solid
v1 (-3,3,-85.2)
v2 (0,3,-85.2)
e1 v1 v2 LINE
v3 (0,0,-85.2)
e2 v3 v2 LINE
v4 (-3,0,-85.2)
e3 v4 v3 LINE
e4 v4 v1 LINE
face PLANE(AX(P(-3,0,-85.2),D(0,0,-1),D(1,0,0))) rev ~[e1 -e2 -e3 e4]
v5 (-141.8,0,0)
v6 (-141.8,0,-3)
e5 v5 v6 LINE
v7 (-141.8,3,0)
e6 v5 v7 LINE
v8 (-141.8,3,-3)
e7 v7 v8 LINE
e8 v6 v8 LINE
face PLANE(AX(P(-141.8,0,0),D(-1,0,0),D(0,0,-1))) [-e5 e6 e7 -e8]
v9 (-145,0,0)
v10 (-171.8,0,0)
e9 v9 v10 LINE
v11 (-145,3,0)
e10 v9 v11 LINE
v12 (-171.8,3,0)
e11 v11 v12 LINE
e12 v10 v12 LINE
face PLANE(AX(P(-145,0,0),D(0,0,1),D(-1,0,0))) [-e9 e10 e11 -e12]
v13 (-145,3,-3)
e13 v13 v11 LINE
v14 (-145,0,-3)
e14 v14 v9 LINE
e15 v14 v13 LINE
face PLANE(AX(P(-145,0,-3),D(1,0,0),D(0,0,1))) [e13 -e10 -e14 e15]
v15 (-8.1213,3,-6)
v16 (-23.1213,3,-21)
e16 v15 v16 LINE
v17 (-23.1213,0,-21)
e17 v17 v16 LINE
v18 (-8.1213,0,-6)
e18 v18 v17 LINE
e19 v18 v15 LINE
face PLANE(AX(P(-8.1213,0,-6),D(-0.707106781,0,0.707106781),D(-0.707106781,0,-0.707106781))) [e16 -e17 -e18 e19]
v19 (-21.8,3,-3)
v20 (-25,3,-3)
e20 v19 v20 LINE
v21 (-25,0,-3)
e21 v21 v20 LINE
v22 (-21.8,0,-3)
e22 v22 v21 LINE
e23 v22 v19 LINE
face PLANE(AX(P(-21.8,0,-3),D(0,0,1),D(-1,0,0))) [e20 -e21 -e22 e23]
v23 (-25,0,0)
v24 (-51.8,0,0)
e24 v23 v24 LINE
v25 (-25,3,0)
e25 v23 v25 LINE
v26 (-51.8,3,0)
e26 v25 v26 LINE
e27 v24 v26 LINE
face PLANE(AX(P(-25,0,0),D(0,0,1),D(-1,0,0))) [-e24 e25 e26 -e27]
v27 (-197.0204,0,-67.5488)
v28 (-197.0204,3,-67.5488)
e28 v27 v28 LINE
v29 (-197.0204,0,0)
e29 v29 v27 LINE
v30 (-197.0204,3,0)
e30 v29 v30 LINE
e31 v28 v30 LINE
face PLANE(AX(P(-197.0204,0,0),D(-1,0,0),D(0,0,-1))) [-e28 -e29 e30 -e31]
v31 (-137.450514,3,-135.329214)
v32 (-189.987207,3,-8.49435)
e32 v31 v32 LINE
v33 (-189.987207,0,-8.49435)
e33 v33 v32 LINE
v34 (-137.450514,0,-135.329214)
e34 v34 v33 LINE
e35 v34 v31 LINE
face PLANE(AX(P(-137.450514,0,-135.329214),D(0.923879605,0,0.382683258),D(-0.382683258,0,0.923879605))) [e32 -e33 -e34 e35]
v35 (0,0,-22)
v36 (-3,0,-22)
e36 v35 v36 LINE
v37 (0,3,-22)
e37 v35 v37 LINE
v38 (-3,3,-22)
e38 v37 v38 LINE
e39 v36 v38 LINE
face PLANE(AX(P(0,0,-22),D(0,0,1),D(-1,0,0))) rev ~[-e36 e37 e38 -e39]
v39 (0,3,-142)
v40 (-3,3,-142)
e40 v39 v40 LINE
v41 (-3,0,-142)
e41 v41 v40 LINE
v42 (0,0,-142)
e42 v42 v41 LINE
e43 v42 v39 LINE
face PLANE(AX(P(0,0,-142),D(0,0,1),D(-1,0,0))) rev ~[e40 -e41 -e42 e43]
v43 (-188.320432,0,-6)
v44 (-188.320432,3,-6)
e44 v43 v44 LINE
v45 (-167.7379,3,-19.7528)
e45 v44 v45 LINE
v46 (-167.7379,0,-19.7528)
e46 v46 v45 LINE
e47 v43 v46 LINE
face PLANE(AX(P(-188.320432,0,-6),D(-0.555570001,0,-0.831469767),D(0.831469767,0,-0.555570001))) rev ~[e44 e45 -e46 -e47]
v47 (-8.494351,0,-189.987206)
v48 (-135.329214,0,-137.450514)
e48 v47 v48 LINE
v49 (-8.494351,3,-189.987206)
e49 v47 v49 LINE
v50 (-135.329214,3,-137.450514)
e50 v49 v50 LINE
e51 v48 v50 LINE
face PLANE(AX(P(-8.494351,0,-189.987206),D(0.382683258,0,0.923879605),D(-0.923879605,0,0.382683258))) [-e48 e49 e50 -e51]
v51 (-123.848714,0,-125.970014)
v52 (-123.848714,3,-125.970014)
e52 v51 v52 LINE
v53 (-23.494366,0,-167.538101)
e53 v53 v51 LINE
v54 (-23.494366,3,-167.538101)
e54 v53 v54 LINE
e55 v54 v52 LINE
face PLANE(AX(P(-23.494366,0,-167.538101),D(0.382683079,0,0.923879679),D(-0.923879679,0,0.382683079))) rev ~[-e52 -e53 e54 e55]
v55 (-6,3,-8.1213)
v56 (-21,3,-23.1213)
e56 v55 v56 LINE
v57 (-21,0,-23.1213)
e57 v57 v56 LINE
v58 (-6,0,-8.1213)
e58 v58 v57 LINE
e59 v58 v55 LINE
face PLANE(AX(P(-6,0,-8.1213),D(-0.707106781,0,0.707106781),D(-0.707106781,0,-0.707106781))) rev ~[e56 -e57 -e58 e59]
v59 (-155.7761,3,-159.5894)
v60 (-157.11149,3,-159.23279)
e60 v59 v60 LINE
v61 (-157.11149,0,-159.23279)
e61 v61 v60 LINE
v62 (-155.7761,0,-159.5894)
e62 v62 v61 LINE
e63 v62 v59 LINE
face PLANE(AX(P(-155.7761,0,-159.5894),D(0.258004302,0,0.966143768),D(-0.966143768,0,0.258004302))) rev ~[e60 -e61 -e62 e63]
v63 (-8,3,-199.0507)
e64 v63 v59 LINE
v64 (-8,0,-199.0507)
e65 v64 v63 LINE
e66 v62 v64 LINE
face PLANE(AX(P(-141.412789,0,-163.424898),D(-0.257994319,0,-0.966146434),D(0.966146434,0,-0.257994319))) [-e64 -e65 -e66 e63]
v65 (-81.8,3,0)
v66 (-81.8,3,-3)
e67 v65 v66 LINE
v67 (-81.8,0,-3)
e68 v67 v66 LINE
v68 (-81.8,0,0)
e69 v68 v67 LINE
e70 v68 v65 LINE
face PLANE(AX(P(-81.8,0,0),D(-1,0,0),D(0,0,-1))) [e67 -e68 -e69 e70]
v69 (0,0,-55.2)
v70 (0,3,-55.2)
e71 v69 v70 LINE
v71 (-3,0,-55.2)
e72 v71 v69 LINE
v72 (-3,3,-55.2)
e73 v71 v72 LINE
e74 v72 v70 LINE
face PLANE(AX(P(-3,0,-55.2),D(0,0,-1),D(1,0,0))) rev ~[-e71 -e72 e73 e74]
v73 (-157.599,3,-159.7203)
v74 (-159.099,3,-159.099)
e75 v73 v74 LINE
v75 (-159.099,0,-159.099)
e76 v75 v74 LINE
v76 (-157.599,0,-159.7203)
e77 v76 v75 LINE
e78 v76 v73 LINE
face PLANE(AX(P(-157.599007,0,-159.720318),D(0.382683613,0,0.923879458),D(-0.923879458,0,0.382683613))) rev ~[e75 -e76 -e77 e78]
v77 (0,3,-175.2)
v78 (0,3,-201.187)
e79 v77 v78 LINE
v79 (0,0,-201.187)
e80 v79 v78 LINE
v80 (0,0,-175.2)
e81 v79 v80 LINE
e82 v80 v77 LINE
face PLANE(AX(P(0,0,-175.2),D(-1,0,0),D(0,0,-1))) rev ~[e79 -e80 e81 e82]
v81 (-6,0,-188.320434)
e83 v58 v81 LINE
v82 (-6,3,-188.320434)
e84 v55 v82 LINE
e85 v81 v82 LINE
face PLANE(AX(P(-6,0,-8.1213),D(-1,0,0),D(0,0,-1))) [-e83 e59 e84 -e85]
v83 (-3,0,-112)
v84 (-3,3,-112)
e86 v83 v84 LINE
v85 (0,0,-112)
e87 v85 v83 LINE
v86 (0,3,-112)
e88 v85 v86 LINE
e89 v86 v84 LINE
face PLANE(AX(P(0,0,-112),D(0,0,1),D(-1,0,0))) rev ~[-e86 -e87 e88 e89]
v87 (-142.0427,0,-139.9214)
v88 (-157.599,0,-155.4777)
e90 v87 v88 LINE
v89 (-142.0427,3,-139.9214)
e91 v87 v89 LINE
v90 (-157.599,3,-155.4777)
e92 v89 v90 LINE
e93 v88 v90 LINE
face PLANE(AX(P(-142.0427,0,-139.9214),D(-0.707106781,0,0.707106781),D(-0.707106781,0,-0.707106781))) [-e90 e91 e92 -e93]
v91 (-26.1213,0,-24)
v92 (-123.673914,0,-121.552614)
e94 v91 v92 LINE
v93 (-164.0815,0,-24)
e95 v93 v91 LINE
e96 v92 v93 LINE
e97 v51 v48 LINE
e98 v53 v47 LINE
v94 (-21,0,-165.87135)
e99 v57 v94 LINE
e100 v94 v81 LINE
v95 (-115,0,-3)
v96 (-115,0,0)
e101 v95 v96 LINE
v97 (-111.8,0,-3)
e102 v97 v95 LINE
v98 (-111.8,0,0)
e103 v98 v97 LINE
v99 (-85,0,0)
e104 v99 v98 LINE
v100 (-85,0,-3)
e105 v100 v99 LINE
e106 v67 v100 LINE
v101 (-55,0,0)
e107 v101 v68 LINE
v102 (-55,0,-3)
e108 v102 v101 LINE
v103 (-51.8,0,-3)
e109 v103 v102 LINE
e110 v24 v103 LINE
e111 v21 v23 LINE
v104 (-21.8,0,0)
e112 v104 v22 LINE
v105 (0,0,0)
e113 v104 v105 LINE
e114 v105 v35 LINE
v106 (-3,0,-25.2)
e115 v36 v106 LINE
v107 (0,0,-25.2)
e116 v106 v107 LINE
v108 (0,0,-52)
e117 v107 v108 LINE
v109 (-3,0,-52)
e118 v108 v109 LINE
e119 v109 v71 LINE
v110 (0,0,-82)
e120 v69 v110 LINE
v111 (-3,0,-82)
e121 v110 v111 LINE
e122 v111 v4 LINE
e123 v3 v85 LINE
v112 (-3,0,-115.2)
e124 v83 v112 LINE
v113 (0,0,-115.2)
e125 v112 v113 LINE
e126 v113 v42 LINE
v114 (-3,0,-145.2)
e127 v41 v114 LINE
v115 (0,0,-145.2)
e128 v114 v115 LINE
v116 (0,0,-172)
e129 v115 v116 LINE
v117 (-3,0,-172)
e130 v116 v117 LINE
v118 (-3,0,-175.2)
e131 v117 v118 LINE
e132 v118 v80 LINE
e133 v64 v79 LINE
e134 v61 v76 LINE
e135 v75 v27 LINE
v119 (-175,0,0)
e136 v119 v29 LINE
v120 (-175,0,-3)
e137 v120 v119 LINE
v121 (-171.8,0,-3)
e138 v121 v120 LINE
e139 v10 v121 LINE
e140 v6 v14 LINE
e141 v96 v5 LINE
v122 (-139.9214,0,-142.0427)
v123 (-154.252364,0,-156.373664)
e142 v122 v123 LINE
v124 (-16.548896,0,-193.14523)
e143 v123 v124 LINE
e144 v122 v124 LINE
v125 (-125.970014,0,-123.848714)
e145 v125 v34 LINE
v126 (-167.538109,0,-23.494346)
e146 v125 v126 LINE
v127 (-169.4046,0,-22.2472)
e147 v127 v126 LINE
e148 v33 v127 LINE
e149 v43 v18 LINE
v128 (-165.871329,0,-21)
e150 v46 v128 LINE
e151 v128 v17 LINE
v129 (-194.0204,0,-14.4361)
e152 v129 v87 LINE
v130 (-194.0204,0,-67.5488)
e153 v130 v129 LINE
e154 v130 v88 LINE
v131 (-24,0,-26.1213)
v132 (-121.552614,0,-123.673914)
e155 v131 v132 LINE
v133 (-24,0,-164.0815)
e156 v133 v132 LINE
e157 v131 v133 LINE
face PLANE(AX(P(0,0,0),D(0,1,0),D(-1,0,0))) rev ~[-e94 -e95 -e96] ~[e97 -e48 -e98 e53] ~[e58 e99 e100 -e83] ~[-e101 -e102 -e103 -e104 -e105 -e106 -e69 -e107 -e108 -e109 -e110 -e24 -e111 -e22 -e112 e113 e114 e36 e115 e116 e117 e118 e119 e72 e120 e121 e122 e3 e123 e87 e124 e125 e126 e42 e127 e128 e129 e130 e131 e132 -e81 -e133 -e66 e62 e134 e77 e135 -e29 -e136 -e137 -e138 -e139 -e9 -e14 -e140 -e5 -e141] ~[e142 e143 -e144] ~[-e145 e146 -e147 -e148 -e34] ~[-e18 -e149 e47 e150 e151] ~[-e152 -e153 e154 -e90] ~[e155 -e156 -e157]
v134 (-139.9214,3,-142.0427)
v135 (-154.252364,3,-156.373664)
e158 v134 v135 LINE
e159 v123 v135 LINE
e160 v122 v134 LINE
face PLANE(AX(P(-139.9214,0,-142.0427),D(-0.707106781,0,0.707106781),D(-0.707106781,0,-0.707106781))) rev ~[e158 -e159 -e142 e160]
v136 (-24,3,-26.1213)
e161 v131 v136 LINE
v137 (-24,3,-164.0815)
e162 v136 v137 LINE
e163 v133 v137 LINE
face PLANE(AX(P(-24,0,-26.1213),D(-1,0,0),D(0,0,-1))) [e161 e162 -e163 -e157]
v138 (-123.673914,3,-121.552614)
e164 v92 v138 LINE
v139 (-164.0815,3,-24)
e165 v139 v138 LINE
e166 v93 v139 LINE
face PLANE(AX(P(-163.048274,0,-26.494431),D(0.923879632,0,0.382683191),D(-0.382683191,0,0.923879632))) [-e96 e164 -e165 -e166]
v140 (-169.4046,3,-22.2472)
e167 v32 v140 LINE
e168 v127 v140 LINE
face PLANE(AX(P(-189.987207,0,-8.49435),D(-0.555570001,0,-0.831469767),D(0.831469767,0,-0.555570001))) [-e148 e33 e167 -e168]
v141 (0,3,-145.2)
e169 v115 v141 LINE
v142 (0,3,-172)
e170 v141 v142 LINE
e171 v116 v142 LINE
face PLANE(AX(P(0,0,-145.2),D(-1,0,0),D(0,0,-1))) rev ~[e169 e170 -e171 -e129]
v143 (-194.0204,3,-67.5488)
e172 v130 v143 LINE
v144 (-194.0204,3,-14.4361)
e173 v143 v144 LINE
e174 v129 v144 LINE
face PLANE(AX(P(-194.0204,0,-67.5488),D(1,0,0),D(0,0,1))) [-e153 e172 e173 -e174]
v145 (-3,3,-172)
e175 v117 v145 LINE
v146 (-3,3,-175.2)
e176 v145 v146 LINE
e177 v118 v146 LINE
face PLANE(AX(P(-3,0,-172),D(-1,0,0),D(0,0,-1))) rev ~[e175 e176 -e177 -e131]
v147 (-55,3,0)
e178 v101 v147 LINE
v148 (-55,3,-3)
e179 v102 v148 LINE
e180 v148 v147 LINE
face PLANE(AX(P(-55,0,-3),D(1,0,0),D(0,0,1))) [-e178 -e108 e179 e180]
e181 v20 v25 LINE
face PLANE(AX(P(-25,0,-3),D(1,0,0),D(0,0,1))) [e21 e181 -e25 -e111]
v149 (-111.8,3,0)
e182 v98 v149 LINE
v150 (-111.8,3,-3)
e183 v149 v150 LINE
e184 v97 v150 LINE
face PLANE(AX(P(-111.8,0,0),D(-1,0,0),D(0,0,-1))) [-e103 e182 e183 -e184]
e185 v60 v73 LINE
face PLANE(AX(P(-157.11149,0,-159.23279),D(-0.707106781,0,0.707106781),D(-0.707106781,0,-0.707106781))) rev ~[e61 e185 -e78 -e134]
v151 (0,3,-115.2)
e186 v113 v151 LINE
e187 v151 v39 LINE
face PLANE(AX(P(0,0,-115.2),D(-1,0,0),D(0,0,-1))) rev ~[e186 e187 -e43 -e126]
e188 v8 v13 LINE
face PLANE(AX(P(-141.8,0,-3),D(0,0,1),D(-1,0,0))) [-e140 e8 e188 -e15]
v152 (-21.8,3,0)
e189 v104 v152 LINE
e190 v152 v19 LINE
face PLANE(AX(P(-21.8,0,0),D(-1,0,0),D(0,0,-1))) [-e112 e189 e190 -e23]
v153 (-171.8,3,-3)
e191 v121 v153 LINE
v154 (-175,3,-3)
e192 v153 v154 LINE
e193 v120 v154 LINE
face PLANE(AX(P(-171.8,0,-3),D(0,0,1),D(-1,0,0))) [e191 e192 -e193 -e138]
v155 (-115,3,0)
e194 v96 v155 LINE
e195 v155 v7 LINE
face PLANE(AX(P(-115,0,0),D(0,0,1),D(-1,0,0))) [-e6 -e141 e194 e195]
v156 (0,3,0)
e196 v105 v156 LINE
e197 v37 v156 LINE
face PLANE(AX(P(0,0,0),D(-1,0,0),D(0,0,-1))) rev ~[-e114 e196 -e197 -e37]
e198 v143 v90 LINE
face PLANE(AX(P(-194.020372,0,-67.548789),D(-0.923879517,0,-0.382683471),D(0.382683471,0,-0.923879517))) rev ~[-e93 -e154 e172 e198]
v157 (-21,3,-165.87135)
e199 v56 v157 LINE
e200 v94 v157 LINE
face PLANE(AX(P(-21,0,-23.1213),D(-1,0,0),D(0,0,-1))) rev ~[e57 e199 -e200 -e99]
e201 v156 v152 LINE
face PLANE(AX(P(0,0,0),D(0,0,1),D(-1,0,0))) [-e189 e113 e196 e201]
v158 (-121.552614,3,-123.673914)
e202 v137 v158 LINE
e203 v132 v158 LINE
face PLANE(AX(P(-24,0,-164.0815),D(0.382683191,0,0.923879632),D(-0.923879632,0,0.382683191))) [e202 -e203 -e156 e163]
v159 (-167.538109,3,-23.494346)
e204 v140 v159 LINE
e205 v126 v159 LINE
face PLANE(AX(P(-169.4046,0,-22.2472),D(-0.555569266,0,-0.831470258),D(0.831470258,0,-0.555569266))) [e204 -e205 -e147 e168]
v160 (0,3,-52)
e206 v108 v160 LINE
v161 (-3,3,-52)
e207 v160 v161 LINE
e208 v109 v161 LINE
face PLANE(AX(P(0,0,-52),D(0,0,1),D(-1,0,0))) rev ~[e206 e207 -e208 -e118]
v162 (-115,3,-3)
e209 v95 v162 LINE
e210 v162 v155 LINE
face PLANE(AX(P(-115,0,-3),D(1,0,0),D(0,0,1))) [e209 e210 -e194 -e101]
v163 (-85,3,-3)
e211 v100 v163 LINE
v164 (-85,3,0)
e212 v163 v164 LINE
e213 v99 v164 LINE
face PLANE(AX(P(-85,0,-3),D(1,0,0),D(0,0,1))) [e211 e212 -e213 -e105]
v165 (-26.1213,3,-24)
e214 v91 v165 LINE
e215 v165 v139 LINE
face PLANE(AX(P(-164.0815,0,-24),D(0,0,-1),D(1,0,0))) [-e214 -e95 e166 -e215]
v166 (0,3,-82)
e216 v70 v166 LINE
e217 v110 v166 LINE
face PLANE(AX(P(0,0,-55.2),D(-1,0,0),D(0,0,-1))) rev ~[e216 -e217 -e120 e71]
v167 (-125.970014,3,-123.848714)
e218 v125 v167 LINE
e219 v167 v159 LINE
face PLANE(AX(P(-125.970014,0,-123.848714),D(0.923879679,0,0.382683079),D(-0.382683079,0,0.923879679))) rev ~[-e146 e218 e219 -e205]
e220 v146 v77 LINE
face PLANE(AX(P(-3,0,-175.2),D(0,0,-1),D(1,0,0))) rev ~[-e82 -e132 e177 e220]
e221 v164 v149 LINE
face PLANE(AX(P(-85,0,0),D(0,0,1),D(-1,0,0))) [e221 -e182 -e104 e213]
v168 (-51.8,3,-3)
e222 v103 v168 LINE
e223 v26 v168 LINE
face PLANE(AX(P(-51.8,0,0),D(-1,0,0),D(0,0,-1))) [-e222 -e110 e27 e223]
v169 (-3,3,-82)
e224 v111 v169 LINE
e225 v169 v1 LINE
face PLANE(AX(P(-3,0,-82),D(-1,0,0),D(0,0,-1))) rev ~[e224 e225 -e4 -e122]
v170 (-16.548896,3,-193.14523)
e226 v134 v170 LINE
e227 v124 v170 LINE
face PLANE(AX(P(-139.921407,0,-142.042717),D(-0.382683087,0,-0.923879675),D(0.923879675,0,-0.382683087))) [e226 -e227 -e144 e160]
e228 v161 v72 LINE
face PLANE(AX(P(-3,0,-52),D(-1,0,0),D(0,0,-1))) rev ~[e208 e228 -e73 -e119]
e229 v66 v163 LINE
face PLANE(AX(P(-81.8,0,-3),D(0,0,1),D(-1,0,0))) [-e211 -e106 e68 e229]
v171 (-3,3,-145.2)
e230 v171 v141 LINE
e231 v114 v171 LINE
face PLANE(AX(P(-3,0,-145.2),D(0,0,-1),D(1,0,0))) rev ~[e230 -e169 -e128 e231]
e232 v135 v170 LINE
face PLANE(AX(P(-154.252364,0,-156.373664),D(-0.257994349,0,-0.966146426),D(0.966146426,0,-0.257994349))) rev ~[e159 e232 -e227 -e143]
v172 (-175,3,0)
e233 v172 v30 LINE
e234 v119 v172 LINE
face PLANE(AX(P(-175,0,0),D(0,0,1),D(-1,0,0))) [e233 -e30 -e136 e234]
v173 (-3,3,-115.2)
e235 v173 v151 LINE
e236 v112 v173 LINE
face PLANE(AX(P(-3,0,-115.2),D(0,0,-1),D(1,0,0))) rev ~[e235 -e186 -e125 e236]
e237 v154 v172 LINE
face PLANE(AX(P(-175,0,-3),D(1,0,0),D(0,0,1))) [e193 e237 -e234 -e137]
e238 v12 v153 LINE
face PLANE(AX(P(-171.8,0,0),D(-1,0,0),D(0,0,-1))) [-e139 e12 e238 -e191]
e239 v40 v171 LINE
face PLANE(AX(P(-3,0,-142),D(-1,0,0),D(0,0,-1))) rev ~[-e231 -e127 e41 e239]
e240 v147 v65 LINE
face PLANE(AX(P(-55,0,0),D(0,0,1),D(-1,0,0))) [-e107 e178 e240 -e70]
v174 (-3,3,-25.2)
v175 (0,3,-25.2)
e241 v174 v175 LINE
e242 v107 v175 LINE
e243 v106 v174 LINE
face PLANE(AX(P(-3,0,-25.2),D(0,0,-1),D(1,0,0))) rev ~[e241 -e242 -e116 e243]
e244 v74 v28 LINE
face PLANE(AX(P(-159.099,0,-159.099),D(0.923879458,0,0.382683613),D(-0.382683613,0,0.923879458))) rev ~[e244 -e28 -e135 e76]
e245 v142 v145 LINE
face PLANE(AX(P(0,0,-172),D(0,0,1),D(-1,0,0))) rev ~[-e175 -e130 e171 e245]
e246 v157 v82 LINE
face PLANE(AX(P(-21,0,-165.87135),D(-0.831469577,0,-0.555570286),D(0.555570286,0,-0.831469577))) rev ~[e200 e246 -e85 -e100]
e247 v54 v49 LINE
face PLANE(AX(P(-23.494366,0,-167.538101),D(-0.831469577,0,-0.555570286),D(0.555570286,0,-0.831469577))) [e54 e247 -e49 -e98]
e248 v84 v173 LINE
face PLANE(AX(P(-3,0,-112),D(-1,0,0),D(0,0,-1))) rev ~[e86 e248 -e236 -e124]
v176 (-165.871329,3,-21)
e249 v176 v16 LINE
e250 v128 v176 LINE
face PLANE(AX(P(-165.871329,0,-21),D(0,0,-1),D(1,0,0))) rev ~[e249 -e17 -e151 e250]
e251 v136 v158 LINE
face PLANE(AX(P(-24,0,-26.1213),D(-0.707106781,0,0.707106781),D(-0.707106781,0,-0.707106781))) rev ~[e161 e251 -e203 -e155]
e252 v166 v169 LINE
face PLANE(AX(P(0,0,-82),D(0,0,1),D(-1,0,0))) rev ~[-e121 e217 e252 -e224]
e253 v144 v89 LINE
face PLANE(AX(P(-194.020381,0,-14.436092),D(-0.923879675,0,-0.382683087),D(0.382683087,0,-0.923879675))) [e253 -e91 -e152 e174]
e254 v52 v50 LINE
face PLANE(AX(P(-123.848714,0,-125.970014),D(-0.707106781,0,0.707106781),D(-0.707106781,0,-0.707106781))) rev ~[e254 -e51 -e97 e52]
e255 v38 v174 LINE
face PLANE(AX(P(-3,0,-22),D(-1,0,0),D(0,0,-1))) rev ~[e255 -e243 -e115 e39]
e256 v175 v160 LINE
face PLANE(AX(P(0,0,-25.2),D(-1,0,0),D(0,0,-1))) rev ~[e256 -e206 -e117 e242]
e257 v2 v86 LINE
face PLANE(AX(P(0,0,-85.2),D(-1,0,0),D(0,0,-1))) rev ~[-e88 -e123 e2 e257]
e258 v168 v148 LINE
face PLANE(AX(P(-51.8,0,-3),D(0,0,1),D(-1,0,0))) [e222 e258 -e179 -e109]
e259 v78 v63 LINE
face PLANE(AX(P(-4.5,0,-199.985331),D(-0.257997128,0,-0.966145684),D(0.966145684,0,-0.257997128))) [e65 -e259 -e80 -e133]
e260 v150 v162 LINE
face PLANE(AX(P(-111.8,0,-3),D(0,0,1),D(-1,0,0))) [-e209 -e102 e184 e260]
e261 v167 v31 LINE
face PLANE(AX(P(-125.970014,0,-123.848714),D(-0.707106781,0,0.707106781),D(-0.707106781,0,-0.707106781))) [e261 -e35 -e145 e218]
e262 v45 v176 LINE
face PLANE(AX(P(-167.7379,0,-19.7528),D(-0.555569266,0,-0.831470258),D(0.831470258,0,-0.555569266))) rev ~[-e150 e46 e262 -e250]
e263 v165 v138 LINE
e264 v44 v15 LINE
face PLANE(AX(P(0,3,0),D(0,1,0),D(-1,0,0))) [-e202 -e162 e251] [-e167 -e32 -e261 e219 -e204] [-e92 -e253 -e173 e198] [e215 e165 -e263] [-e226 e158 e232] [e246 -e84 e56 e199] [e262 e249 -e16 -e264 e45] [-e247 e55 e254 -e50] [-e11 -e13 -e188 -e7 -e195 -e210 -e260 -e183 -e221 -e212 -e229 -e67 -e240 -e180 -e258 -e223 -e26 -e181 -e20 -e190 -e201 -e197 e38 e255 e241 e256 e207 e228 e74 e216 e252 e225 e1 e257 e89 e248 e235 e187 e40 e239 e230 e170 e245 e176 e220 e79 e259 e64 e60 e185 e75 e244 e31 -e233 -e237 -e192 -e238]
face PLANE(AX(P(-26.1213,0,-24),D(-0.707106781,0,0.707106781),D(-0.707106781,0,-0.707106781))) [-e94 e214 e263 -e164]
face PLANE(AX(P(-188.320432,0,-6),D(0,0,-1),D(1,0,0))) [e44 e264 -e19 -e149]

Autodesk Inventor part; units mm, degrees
ref_plane "YZ Plane" through (0, 0, 0) normal (1, 0, 0) x (0, 1, 0)
ref_plane "XZ Plane" through (0, 0, 0) normal (0, 1, 0) x (-1, 0, 0)
ref_plane "XY Plane" through (0, 0, 0) normal (0, 0, 1) x (1, 0, 0)
sketch "草圖1" plane through (0, 0, 0) normal (0, 1, 0) x (-1, 0, 0)
  line L0 (0, 0) -> (0, -200)
  line L1 (0, 0) -> (200, 0)
  line L2 (0, 0) -> (141.4214, -141.4214)
  line L3 (200, 0) -> (141.4214, -141.4214)
  line L4 (141.4214, -141.4214) -> (0, -200)
  line L5 (191.0204, -6) -> (6, -6)
  line L6 (6, -6) -> (6, -191.0204)
  line L7 (6, -191.0204) -> (136.8292, -136.8292)
  line L8 (136.8292, -136.8292) -> (191.0204, -6)
  line L9 (2.1213, 0) -> (142.0427, -139.9214)
  line L10 (0, -2.1213) -> (139.9214, -142.0427)
  line L11 (168.5713, -21) -> (21, -21)
  line L12 (21, -21) -> (21, -168.5713)
  line L13 (21, -168.5713) -> (125.3487, -125.3487)
  line L14 (125.3487, -125.3487) -> (168.5713, -21)
  line L15 (164.0815, -24) -> (24, -24)
  line L16 (24, -24) -> (24, -164.0815)
  line L17 (24, -164.0815) -> (123.0526, -123.0526)
  line L18 (123.0526, -123.0526) -> (164.0815, -24)
  line L19 (191.0204, -6) -> (168.5713, -21)
  line L20 (191.8537, -7.2472) -> (169.4046, -22.2472)
  line L21 (190.187, -4.7528) -> (167.7379, -19.7528)
  line L22 (167.7379, -19.7528) -> (161.3815, -24)
  line L23 (169.4046, -22.2472) -> (163.0482, -26.4944)
  line L24 (24, -164.0815) -> (6, -191.0204)
  line L25 (25.2472, -164.9148) -> (7.2472, -191.8537)
  line L26 (22.7528, -163.2481) -> (4.7528, -190.187)
  line L27 (175, 0) -> (171.8, 0)
  line L28 (171.8, 0) -> (171.8, -3)
  line L29 (171.8, -3) -> (175, -3)
  line L30 (175, -3) -> (175, 0)
  line L31 (141.8, -3) -> (145, -3)
  line L32 (141.8, 0) -> (141.8, -3)
  line L33 (145, -3) -> (145, 0)
  line L34 (111.8, -3) -> (115, -3)
  line L35 (111.8, 0) -> (111.8, -3)
  line L36 (115, -3) -> (115, 0)
  line L37 (81.8, -3) -> (85, -3)
  line L38 (81.8, 0) -> (81.8, -3)
  line L39 (85, -3) -> (85, 0)
  line L40 (51.8, -3) -> (55, -3)
  line L41 (51.8, 0) -> (51.8, -3)
  line L42 (55, -3) -> (55, 0)
  line L43 (21.8, -3) -> (25, -3)
  line L44 (21.8, 0) -> (21.8, -3)
  line L45 (25, -3) -> (25, 0)
  line L46 (0, -200) -> (0, -222)
  line L47 (0, -222) -> (156.9777, -156.9777)
  line L48 (200, 0) -> (222, 0)
  line L49 (141.4214, -141.4214) -> (156.9777, -156.9777)
  line L50 (222, 0) -> (156.9777, -156.9777)
  line L51 (197.0204, 0) -> (197.0204, -60.3062)
  line L52 (0, -222) -> (0, -225)
  line L53 (0, -225) -> (159.099, -159.099)
  line L54 (156.9777, -156.9777) -> (159.099, -159.099)
  line L55 (159.099, -159.099) -> (225, 0)
  line L56 (222, 0) -> (225, 0)
  line L57 (197.0204, -60.3062) -> (197.0204, -67.5488)
  line L58 (0, -200) -> (0, -222)
  line L59 (6, -197.5147) -> (6, -219.5147)
  line L60 (194.0204, -67.5488) -> (194.0204, -14.4361)
  line L61 (142.0427, -139.9214) -> (157.599, -155.4777)
  line L62 (139.9214, -142.0427) -> (157.599, -159.7203)
  line L63 (0, -22) -> (3, -22)
  line L64 (3, -22) -> (3, -25.2)
  line L65 (3, -25.2) -> (0, -25.2)
  line L66 (0, -25.2) -> (0, -22)
  line L67 (3, -52) -> (3, -55.2)
  line L68 (0, -52) -> (3, -52)
  line L69 (3, -55.2) -> (0, -55.2)
  line L70 (3, -82) -> (3, -85.2)
  line L71 (0, -82) -> (3, -82)
  line L72 (3, -85.2) -> (0, -85.2)
  line L73 (3, -112) -> (3, -115.2)
  line L74 (0, -112) -> (3, -112)
  line L75 (3, -115.2) -> (0, -115.2)
  line L76 (3, -142) -> (3, -145.2)
  line L77 (0, -142) -> (3, -142)
  line L78 (3, -145.2) -> (0, -145.2)
  line L79 (3, -172) -> (3, -175.2)
  line L80 (0, -172) -> (3, -172)
  line L81 (3, -175.2) -> (0, -175.2)
  line L82 (155.4777, -157.599) -> (6, -197.5147)
  line L83 (155.7761, -159.5894) -> (8, -199.0507)
  line L84 (8, -199.0507) -> (8, -219.5147)
  line L85 (155.0907, -156.1498) -> (4.5, -196.3627)
  line L86 (4.5, -196.3627) -> (4.5, -219.5147)
  line L87 (155.7761, -159.5894) -> (158.7857, -158.7857)
  line L88 (8, -199.0507) -> (0, -201.187)
  point P0 (8.1213, -6)
  point P1 (137.4505, -135.3292)
  point P2 (135.3292, -137.4505)
  point P3 (6, -8.1213)
  point P4 (121.5526, -123.6739)
  point P5 (24, -26.1213)
  point P6 (21, -23.1213)
  point P7 (123.8487, -125.97)
  point P8 (123.6739, -121.5526)
  point P9 (125.97, -123.8487)
  point P10 (23.1213, -21)
  point P11 (26.1213, -24)
  point P12 (21, -165.8714)
  point P13 (6, -188.3204)
  point P14 (8.4944, -189.9871)
  point P15 (23.4944, -167.5381)
  point P16 (188.3204, -6)
  point P17 (165.8714, -21)
  point P18 (167.5381, -23.4944)
  point P19 (189.9871, -8.4944)
  point P20 (171.8, 0)
  point P21 (141.8, 0)
  point P22 (111.8, 0)
  point P23 (81.8, 0)
  point P24 (51.8, 0)
  point P25 (21.8, 0)
  point P26 (156.9777, -156.9777)
  point P27 (197.0204, -7.1935)
  point P28 (157.5991, -156.7203)
  point P29 (0, -25.2)
  point P30 (0, -55.2)
  point P31 (0, -85.2)
  point P32 (0, -115.2)
  point P33 (0, -145.2)
  point P34 (0, -175.2)
  point P35 (154.2524, -156.3737)
  point P36 (16.5488, -193.1453)
  point P37 (157.1115, -159.2328)
  point P38 (0, -201.187)
  dimension "d0" = 200
  dimension "d1" = 200
  dimension "d2" = 45
  dimension "d3" = 67.5
  dimension "d4" = 6
  dimension "d5" = 1.5
  dimension "d6" = 1.5
  dimension "d9" = 15
  dimension "d10" = 3
  dimension "d11" = 1.5
  dimension "d12" = 1.5
  dimension "d13" = 1.5
  dimension "d14" = 1.5
  dimension "d15" = 3
  dimension "d16" = 3.2
  dimension "d17" = 25
  dimension "d20" = 30
  dimension "d27" = 22
  dimension "d28" = 22
  dimension "d29" = 6
  dimension "d30" = 3
  dimension "d31" = 3
  dimension "d32" = 6
  dimension "d34" = 3
  dimension "d35" = 3
  dimension "d36" = 3.2
  dimension "d37" = 22
  dimension "d40" = 30
  dimension "d49" = 2
  dimension "d50" = 1.5
extrude "擠出1" add sketch "草圖1" along normal blind 3 contours L2 L6 L10 L0 | L1 L9 L5 L2 | L10 L6 L7 L4 L85 L86 L0 L81 L79 L80 L78 L76 L77 L75 L73 L74 L72 L70 L71 L69 L67 L68 L65 L64 L63 | L1 L44 L43 L45 L41 L40 L42 L38 L37 L39 L35 L34 L36 L32 L31 L33 L28 L29 L30 L51 L3 L9 L8 L5 | L5 L9 L11 L2 | L2 L12 L10 L6 | L11 L9 L15 L2 | L2 L16 L10 L12 | L26 L12 L24 L6 | L10 L16 L24 L12 | L5 L19 L11 L22 L21 | L11 L22 L15 L9 | L15 L9 L18 L2 | L2 L17 L10 L16 | L24 L13 L25 L7 | L8 L20 L23 L14 L19 | L11 L14 L23 L18 L15 L22 | L18 L9 L14 L2 | L2 L13 L10 L17 | L24 L17 L10 L13 | L18 L23 L14 L9 | L14 L9 L8 L2 | L2 L7 L10 L13 | L7 L2 L4 L10 | L9 L3 L2 L8 | L4 L49 L47 L62 | L61 L50 L49 L3 | L85 L62 L82 L4 | L4 L86 L85 | L3 L51 L50 L60 | L50 L57 L55 L54 | L54 L87 L62 L47 | L59 L88 L86 L4 | L82 L47 L83 L88 L59 | L62 L87 L83 L47 | L54 L53 L62 L87 | L86 L88 L46 L4
sketch "草圖2" plane through (-3, 0, -25.2) normal (0, 0, 1) x (1, 0, 0)
  line L0 (0, 0) -> (0, 3) projected
  line L1 (-154.599, 3) -> (-156.099, 3) projected
  line L2 (0, 0) -> (-3, 0)
  line L3 (-3, 0) -> (-3, 3)
  line L4 (-3, 3) -> (0, 3)
  line L5 (0, 3) -> (0, 0)
  circle A0 centre (-1.5, 1.5) radius 2.1213
  point P0 (3, 0)
  point P1 (3, 3)
  dimension "d45" = 3
  dimension "d46" = 4.2426
sketch "草圖3" plane through (-21.8, 0, -3) normal (-1, 0, 0) x (0, 0, 1)
  line L0 (0, 3) -> (-3, 3)
  line L1 (-3, 3) -> (-3, 0)
  line L2 (-3, 0) -> (0, 0)
  line L3 (0, 0) -> (0, 3)
  circle A0 centre (-1.5, 1.5) radius 2.1213
  point P0 (3, 0)
  dimension "d47" = 4.2426
  dimension "d48" = 1.5
properties part number "side_sail" material "木材 (樺木)"
